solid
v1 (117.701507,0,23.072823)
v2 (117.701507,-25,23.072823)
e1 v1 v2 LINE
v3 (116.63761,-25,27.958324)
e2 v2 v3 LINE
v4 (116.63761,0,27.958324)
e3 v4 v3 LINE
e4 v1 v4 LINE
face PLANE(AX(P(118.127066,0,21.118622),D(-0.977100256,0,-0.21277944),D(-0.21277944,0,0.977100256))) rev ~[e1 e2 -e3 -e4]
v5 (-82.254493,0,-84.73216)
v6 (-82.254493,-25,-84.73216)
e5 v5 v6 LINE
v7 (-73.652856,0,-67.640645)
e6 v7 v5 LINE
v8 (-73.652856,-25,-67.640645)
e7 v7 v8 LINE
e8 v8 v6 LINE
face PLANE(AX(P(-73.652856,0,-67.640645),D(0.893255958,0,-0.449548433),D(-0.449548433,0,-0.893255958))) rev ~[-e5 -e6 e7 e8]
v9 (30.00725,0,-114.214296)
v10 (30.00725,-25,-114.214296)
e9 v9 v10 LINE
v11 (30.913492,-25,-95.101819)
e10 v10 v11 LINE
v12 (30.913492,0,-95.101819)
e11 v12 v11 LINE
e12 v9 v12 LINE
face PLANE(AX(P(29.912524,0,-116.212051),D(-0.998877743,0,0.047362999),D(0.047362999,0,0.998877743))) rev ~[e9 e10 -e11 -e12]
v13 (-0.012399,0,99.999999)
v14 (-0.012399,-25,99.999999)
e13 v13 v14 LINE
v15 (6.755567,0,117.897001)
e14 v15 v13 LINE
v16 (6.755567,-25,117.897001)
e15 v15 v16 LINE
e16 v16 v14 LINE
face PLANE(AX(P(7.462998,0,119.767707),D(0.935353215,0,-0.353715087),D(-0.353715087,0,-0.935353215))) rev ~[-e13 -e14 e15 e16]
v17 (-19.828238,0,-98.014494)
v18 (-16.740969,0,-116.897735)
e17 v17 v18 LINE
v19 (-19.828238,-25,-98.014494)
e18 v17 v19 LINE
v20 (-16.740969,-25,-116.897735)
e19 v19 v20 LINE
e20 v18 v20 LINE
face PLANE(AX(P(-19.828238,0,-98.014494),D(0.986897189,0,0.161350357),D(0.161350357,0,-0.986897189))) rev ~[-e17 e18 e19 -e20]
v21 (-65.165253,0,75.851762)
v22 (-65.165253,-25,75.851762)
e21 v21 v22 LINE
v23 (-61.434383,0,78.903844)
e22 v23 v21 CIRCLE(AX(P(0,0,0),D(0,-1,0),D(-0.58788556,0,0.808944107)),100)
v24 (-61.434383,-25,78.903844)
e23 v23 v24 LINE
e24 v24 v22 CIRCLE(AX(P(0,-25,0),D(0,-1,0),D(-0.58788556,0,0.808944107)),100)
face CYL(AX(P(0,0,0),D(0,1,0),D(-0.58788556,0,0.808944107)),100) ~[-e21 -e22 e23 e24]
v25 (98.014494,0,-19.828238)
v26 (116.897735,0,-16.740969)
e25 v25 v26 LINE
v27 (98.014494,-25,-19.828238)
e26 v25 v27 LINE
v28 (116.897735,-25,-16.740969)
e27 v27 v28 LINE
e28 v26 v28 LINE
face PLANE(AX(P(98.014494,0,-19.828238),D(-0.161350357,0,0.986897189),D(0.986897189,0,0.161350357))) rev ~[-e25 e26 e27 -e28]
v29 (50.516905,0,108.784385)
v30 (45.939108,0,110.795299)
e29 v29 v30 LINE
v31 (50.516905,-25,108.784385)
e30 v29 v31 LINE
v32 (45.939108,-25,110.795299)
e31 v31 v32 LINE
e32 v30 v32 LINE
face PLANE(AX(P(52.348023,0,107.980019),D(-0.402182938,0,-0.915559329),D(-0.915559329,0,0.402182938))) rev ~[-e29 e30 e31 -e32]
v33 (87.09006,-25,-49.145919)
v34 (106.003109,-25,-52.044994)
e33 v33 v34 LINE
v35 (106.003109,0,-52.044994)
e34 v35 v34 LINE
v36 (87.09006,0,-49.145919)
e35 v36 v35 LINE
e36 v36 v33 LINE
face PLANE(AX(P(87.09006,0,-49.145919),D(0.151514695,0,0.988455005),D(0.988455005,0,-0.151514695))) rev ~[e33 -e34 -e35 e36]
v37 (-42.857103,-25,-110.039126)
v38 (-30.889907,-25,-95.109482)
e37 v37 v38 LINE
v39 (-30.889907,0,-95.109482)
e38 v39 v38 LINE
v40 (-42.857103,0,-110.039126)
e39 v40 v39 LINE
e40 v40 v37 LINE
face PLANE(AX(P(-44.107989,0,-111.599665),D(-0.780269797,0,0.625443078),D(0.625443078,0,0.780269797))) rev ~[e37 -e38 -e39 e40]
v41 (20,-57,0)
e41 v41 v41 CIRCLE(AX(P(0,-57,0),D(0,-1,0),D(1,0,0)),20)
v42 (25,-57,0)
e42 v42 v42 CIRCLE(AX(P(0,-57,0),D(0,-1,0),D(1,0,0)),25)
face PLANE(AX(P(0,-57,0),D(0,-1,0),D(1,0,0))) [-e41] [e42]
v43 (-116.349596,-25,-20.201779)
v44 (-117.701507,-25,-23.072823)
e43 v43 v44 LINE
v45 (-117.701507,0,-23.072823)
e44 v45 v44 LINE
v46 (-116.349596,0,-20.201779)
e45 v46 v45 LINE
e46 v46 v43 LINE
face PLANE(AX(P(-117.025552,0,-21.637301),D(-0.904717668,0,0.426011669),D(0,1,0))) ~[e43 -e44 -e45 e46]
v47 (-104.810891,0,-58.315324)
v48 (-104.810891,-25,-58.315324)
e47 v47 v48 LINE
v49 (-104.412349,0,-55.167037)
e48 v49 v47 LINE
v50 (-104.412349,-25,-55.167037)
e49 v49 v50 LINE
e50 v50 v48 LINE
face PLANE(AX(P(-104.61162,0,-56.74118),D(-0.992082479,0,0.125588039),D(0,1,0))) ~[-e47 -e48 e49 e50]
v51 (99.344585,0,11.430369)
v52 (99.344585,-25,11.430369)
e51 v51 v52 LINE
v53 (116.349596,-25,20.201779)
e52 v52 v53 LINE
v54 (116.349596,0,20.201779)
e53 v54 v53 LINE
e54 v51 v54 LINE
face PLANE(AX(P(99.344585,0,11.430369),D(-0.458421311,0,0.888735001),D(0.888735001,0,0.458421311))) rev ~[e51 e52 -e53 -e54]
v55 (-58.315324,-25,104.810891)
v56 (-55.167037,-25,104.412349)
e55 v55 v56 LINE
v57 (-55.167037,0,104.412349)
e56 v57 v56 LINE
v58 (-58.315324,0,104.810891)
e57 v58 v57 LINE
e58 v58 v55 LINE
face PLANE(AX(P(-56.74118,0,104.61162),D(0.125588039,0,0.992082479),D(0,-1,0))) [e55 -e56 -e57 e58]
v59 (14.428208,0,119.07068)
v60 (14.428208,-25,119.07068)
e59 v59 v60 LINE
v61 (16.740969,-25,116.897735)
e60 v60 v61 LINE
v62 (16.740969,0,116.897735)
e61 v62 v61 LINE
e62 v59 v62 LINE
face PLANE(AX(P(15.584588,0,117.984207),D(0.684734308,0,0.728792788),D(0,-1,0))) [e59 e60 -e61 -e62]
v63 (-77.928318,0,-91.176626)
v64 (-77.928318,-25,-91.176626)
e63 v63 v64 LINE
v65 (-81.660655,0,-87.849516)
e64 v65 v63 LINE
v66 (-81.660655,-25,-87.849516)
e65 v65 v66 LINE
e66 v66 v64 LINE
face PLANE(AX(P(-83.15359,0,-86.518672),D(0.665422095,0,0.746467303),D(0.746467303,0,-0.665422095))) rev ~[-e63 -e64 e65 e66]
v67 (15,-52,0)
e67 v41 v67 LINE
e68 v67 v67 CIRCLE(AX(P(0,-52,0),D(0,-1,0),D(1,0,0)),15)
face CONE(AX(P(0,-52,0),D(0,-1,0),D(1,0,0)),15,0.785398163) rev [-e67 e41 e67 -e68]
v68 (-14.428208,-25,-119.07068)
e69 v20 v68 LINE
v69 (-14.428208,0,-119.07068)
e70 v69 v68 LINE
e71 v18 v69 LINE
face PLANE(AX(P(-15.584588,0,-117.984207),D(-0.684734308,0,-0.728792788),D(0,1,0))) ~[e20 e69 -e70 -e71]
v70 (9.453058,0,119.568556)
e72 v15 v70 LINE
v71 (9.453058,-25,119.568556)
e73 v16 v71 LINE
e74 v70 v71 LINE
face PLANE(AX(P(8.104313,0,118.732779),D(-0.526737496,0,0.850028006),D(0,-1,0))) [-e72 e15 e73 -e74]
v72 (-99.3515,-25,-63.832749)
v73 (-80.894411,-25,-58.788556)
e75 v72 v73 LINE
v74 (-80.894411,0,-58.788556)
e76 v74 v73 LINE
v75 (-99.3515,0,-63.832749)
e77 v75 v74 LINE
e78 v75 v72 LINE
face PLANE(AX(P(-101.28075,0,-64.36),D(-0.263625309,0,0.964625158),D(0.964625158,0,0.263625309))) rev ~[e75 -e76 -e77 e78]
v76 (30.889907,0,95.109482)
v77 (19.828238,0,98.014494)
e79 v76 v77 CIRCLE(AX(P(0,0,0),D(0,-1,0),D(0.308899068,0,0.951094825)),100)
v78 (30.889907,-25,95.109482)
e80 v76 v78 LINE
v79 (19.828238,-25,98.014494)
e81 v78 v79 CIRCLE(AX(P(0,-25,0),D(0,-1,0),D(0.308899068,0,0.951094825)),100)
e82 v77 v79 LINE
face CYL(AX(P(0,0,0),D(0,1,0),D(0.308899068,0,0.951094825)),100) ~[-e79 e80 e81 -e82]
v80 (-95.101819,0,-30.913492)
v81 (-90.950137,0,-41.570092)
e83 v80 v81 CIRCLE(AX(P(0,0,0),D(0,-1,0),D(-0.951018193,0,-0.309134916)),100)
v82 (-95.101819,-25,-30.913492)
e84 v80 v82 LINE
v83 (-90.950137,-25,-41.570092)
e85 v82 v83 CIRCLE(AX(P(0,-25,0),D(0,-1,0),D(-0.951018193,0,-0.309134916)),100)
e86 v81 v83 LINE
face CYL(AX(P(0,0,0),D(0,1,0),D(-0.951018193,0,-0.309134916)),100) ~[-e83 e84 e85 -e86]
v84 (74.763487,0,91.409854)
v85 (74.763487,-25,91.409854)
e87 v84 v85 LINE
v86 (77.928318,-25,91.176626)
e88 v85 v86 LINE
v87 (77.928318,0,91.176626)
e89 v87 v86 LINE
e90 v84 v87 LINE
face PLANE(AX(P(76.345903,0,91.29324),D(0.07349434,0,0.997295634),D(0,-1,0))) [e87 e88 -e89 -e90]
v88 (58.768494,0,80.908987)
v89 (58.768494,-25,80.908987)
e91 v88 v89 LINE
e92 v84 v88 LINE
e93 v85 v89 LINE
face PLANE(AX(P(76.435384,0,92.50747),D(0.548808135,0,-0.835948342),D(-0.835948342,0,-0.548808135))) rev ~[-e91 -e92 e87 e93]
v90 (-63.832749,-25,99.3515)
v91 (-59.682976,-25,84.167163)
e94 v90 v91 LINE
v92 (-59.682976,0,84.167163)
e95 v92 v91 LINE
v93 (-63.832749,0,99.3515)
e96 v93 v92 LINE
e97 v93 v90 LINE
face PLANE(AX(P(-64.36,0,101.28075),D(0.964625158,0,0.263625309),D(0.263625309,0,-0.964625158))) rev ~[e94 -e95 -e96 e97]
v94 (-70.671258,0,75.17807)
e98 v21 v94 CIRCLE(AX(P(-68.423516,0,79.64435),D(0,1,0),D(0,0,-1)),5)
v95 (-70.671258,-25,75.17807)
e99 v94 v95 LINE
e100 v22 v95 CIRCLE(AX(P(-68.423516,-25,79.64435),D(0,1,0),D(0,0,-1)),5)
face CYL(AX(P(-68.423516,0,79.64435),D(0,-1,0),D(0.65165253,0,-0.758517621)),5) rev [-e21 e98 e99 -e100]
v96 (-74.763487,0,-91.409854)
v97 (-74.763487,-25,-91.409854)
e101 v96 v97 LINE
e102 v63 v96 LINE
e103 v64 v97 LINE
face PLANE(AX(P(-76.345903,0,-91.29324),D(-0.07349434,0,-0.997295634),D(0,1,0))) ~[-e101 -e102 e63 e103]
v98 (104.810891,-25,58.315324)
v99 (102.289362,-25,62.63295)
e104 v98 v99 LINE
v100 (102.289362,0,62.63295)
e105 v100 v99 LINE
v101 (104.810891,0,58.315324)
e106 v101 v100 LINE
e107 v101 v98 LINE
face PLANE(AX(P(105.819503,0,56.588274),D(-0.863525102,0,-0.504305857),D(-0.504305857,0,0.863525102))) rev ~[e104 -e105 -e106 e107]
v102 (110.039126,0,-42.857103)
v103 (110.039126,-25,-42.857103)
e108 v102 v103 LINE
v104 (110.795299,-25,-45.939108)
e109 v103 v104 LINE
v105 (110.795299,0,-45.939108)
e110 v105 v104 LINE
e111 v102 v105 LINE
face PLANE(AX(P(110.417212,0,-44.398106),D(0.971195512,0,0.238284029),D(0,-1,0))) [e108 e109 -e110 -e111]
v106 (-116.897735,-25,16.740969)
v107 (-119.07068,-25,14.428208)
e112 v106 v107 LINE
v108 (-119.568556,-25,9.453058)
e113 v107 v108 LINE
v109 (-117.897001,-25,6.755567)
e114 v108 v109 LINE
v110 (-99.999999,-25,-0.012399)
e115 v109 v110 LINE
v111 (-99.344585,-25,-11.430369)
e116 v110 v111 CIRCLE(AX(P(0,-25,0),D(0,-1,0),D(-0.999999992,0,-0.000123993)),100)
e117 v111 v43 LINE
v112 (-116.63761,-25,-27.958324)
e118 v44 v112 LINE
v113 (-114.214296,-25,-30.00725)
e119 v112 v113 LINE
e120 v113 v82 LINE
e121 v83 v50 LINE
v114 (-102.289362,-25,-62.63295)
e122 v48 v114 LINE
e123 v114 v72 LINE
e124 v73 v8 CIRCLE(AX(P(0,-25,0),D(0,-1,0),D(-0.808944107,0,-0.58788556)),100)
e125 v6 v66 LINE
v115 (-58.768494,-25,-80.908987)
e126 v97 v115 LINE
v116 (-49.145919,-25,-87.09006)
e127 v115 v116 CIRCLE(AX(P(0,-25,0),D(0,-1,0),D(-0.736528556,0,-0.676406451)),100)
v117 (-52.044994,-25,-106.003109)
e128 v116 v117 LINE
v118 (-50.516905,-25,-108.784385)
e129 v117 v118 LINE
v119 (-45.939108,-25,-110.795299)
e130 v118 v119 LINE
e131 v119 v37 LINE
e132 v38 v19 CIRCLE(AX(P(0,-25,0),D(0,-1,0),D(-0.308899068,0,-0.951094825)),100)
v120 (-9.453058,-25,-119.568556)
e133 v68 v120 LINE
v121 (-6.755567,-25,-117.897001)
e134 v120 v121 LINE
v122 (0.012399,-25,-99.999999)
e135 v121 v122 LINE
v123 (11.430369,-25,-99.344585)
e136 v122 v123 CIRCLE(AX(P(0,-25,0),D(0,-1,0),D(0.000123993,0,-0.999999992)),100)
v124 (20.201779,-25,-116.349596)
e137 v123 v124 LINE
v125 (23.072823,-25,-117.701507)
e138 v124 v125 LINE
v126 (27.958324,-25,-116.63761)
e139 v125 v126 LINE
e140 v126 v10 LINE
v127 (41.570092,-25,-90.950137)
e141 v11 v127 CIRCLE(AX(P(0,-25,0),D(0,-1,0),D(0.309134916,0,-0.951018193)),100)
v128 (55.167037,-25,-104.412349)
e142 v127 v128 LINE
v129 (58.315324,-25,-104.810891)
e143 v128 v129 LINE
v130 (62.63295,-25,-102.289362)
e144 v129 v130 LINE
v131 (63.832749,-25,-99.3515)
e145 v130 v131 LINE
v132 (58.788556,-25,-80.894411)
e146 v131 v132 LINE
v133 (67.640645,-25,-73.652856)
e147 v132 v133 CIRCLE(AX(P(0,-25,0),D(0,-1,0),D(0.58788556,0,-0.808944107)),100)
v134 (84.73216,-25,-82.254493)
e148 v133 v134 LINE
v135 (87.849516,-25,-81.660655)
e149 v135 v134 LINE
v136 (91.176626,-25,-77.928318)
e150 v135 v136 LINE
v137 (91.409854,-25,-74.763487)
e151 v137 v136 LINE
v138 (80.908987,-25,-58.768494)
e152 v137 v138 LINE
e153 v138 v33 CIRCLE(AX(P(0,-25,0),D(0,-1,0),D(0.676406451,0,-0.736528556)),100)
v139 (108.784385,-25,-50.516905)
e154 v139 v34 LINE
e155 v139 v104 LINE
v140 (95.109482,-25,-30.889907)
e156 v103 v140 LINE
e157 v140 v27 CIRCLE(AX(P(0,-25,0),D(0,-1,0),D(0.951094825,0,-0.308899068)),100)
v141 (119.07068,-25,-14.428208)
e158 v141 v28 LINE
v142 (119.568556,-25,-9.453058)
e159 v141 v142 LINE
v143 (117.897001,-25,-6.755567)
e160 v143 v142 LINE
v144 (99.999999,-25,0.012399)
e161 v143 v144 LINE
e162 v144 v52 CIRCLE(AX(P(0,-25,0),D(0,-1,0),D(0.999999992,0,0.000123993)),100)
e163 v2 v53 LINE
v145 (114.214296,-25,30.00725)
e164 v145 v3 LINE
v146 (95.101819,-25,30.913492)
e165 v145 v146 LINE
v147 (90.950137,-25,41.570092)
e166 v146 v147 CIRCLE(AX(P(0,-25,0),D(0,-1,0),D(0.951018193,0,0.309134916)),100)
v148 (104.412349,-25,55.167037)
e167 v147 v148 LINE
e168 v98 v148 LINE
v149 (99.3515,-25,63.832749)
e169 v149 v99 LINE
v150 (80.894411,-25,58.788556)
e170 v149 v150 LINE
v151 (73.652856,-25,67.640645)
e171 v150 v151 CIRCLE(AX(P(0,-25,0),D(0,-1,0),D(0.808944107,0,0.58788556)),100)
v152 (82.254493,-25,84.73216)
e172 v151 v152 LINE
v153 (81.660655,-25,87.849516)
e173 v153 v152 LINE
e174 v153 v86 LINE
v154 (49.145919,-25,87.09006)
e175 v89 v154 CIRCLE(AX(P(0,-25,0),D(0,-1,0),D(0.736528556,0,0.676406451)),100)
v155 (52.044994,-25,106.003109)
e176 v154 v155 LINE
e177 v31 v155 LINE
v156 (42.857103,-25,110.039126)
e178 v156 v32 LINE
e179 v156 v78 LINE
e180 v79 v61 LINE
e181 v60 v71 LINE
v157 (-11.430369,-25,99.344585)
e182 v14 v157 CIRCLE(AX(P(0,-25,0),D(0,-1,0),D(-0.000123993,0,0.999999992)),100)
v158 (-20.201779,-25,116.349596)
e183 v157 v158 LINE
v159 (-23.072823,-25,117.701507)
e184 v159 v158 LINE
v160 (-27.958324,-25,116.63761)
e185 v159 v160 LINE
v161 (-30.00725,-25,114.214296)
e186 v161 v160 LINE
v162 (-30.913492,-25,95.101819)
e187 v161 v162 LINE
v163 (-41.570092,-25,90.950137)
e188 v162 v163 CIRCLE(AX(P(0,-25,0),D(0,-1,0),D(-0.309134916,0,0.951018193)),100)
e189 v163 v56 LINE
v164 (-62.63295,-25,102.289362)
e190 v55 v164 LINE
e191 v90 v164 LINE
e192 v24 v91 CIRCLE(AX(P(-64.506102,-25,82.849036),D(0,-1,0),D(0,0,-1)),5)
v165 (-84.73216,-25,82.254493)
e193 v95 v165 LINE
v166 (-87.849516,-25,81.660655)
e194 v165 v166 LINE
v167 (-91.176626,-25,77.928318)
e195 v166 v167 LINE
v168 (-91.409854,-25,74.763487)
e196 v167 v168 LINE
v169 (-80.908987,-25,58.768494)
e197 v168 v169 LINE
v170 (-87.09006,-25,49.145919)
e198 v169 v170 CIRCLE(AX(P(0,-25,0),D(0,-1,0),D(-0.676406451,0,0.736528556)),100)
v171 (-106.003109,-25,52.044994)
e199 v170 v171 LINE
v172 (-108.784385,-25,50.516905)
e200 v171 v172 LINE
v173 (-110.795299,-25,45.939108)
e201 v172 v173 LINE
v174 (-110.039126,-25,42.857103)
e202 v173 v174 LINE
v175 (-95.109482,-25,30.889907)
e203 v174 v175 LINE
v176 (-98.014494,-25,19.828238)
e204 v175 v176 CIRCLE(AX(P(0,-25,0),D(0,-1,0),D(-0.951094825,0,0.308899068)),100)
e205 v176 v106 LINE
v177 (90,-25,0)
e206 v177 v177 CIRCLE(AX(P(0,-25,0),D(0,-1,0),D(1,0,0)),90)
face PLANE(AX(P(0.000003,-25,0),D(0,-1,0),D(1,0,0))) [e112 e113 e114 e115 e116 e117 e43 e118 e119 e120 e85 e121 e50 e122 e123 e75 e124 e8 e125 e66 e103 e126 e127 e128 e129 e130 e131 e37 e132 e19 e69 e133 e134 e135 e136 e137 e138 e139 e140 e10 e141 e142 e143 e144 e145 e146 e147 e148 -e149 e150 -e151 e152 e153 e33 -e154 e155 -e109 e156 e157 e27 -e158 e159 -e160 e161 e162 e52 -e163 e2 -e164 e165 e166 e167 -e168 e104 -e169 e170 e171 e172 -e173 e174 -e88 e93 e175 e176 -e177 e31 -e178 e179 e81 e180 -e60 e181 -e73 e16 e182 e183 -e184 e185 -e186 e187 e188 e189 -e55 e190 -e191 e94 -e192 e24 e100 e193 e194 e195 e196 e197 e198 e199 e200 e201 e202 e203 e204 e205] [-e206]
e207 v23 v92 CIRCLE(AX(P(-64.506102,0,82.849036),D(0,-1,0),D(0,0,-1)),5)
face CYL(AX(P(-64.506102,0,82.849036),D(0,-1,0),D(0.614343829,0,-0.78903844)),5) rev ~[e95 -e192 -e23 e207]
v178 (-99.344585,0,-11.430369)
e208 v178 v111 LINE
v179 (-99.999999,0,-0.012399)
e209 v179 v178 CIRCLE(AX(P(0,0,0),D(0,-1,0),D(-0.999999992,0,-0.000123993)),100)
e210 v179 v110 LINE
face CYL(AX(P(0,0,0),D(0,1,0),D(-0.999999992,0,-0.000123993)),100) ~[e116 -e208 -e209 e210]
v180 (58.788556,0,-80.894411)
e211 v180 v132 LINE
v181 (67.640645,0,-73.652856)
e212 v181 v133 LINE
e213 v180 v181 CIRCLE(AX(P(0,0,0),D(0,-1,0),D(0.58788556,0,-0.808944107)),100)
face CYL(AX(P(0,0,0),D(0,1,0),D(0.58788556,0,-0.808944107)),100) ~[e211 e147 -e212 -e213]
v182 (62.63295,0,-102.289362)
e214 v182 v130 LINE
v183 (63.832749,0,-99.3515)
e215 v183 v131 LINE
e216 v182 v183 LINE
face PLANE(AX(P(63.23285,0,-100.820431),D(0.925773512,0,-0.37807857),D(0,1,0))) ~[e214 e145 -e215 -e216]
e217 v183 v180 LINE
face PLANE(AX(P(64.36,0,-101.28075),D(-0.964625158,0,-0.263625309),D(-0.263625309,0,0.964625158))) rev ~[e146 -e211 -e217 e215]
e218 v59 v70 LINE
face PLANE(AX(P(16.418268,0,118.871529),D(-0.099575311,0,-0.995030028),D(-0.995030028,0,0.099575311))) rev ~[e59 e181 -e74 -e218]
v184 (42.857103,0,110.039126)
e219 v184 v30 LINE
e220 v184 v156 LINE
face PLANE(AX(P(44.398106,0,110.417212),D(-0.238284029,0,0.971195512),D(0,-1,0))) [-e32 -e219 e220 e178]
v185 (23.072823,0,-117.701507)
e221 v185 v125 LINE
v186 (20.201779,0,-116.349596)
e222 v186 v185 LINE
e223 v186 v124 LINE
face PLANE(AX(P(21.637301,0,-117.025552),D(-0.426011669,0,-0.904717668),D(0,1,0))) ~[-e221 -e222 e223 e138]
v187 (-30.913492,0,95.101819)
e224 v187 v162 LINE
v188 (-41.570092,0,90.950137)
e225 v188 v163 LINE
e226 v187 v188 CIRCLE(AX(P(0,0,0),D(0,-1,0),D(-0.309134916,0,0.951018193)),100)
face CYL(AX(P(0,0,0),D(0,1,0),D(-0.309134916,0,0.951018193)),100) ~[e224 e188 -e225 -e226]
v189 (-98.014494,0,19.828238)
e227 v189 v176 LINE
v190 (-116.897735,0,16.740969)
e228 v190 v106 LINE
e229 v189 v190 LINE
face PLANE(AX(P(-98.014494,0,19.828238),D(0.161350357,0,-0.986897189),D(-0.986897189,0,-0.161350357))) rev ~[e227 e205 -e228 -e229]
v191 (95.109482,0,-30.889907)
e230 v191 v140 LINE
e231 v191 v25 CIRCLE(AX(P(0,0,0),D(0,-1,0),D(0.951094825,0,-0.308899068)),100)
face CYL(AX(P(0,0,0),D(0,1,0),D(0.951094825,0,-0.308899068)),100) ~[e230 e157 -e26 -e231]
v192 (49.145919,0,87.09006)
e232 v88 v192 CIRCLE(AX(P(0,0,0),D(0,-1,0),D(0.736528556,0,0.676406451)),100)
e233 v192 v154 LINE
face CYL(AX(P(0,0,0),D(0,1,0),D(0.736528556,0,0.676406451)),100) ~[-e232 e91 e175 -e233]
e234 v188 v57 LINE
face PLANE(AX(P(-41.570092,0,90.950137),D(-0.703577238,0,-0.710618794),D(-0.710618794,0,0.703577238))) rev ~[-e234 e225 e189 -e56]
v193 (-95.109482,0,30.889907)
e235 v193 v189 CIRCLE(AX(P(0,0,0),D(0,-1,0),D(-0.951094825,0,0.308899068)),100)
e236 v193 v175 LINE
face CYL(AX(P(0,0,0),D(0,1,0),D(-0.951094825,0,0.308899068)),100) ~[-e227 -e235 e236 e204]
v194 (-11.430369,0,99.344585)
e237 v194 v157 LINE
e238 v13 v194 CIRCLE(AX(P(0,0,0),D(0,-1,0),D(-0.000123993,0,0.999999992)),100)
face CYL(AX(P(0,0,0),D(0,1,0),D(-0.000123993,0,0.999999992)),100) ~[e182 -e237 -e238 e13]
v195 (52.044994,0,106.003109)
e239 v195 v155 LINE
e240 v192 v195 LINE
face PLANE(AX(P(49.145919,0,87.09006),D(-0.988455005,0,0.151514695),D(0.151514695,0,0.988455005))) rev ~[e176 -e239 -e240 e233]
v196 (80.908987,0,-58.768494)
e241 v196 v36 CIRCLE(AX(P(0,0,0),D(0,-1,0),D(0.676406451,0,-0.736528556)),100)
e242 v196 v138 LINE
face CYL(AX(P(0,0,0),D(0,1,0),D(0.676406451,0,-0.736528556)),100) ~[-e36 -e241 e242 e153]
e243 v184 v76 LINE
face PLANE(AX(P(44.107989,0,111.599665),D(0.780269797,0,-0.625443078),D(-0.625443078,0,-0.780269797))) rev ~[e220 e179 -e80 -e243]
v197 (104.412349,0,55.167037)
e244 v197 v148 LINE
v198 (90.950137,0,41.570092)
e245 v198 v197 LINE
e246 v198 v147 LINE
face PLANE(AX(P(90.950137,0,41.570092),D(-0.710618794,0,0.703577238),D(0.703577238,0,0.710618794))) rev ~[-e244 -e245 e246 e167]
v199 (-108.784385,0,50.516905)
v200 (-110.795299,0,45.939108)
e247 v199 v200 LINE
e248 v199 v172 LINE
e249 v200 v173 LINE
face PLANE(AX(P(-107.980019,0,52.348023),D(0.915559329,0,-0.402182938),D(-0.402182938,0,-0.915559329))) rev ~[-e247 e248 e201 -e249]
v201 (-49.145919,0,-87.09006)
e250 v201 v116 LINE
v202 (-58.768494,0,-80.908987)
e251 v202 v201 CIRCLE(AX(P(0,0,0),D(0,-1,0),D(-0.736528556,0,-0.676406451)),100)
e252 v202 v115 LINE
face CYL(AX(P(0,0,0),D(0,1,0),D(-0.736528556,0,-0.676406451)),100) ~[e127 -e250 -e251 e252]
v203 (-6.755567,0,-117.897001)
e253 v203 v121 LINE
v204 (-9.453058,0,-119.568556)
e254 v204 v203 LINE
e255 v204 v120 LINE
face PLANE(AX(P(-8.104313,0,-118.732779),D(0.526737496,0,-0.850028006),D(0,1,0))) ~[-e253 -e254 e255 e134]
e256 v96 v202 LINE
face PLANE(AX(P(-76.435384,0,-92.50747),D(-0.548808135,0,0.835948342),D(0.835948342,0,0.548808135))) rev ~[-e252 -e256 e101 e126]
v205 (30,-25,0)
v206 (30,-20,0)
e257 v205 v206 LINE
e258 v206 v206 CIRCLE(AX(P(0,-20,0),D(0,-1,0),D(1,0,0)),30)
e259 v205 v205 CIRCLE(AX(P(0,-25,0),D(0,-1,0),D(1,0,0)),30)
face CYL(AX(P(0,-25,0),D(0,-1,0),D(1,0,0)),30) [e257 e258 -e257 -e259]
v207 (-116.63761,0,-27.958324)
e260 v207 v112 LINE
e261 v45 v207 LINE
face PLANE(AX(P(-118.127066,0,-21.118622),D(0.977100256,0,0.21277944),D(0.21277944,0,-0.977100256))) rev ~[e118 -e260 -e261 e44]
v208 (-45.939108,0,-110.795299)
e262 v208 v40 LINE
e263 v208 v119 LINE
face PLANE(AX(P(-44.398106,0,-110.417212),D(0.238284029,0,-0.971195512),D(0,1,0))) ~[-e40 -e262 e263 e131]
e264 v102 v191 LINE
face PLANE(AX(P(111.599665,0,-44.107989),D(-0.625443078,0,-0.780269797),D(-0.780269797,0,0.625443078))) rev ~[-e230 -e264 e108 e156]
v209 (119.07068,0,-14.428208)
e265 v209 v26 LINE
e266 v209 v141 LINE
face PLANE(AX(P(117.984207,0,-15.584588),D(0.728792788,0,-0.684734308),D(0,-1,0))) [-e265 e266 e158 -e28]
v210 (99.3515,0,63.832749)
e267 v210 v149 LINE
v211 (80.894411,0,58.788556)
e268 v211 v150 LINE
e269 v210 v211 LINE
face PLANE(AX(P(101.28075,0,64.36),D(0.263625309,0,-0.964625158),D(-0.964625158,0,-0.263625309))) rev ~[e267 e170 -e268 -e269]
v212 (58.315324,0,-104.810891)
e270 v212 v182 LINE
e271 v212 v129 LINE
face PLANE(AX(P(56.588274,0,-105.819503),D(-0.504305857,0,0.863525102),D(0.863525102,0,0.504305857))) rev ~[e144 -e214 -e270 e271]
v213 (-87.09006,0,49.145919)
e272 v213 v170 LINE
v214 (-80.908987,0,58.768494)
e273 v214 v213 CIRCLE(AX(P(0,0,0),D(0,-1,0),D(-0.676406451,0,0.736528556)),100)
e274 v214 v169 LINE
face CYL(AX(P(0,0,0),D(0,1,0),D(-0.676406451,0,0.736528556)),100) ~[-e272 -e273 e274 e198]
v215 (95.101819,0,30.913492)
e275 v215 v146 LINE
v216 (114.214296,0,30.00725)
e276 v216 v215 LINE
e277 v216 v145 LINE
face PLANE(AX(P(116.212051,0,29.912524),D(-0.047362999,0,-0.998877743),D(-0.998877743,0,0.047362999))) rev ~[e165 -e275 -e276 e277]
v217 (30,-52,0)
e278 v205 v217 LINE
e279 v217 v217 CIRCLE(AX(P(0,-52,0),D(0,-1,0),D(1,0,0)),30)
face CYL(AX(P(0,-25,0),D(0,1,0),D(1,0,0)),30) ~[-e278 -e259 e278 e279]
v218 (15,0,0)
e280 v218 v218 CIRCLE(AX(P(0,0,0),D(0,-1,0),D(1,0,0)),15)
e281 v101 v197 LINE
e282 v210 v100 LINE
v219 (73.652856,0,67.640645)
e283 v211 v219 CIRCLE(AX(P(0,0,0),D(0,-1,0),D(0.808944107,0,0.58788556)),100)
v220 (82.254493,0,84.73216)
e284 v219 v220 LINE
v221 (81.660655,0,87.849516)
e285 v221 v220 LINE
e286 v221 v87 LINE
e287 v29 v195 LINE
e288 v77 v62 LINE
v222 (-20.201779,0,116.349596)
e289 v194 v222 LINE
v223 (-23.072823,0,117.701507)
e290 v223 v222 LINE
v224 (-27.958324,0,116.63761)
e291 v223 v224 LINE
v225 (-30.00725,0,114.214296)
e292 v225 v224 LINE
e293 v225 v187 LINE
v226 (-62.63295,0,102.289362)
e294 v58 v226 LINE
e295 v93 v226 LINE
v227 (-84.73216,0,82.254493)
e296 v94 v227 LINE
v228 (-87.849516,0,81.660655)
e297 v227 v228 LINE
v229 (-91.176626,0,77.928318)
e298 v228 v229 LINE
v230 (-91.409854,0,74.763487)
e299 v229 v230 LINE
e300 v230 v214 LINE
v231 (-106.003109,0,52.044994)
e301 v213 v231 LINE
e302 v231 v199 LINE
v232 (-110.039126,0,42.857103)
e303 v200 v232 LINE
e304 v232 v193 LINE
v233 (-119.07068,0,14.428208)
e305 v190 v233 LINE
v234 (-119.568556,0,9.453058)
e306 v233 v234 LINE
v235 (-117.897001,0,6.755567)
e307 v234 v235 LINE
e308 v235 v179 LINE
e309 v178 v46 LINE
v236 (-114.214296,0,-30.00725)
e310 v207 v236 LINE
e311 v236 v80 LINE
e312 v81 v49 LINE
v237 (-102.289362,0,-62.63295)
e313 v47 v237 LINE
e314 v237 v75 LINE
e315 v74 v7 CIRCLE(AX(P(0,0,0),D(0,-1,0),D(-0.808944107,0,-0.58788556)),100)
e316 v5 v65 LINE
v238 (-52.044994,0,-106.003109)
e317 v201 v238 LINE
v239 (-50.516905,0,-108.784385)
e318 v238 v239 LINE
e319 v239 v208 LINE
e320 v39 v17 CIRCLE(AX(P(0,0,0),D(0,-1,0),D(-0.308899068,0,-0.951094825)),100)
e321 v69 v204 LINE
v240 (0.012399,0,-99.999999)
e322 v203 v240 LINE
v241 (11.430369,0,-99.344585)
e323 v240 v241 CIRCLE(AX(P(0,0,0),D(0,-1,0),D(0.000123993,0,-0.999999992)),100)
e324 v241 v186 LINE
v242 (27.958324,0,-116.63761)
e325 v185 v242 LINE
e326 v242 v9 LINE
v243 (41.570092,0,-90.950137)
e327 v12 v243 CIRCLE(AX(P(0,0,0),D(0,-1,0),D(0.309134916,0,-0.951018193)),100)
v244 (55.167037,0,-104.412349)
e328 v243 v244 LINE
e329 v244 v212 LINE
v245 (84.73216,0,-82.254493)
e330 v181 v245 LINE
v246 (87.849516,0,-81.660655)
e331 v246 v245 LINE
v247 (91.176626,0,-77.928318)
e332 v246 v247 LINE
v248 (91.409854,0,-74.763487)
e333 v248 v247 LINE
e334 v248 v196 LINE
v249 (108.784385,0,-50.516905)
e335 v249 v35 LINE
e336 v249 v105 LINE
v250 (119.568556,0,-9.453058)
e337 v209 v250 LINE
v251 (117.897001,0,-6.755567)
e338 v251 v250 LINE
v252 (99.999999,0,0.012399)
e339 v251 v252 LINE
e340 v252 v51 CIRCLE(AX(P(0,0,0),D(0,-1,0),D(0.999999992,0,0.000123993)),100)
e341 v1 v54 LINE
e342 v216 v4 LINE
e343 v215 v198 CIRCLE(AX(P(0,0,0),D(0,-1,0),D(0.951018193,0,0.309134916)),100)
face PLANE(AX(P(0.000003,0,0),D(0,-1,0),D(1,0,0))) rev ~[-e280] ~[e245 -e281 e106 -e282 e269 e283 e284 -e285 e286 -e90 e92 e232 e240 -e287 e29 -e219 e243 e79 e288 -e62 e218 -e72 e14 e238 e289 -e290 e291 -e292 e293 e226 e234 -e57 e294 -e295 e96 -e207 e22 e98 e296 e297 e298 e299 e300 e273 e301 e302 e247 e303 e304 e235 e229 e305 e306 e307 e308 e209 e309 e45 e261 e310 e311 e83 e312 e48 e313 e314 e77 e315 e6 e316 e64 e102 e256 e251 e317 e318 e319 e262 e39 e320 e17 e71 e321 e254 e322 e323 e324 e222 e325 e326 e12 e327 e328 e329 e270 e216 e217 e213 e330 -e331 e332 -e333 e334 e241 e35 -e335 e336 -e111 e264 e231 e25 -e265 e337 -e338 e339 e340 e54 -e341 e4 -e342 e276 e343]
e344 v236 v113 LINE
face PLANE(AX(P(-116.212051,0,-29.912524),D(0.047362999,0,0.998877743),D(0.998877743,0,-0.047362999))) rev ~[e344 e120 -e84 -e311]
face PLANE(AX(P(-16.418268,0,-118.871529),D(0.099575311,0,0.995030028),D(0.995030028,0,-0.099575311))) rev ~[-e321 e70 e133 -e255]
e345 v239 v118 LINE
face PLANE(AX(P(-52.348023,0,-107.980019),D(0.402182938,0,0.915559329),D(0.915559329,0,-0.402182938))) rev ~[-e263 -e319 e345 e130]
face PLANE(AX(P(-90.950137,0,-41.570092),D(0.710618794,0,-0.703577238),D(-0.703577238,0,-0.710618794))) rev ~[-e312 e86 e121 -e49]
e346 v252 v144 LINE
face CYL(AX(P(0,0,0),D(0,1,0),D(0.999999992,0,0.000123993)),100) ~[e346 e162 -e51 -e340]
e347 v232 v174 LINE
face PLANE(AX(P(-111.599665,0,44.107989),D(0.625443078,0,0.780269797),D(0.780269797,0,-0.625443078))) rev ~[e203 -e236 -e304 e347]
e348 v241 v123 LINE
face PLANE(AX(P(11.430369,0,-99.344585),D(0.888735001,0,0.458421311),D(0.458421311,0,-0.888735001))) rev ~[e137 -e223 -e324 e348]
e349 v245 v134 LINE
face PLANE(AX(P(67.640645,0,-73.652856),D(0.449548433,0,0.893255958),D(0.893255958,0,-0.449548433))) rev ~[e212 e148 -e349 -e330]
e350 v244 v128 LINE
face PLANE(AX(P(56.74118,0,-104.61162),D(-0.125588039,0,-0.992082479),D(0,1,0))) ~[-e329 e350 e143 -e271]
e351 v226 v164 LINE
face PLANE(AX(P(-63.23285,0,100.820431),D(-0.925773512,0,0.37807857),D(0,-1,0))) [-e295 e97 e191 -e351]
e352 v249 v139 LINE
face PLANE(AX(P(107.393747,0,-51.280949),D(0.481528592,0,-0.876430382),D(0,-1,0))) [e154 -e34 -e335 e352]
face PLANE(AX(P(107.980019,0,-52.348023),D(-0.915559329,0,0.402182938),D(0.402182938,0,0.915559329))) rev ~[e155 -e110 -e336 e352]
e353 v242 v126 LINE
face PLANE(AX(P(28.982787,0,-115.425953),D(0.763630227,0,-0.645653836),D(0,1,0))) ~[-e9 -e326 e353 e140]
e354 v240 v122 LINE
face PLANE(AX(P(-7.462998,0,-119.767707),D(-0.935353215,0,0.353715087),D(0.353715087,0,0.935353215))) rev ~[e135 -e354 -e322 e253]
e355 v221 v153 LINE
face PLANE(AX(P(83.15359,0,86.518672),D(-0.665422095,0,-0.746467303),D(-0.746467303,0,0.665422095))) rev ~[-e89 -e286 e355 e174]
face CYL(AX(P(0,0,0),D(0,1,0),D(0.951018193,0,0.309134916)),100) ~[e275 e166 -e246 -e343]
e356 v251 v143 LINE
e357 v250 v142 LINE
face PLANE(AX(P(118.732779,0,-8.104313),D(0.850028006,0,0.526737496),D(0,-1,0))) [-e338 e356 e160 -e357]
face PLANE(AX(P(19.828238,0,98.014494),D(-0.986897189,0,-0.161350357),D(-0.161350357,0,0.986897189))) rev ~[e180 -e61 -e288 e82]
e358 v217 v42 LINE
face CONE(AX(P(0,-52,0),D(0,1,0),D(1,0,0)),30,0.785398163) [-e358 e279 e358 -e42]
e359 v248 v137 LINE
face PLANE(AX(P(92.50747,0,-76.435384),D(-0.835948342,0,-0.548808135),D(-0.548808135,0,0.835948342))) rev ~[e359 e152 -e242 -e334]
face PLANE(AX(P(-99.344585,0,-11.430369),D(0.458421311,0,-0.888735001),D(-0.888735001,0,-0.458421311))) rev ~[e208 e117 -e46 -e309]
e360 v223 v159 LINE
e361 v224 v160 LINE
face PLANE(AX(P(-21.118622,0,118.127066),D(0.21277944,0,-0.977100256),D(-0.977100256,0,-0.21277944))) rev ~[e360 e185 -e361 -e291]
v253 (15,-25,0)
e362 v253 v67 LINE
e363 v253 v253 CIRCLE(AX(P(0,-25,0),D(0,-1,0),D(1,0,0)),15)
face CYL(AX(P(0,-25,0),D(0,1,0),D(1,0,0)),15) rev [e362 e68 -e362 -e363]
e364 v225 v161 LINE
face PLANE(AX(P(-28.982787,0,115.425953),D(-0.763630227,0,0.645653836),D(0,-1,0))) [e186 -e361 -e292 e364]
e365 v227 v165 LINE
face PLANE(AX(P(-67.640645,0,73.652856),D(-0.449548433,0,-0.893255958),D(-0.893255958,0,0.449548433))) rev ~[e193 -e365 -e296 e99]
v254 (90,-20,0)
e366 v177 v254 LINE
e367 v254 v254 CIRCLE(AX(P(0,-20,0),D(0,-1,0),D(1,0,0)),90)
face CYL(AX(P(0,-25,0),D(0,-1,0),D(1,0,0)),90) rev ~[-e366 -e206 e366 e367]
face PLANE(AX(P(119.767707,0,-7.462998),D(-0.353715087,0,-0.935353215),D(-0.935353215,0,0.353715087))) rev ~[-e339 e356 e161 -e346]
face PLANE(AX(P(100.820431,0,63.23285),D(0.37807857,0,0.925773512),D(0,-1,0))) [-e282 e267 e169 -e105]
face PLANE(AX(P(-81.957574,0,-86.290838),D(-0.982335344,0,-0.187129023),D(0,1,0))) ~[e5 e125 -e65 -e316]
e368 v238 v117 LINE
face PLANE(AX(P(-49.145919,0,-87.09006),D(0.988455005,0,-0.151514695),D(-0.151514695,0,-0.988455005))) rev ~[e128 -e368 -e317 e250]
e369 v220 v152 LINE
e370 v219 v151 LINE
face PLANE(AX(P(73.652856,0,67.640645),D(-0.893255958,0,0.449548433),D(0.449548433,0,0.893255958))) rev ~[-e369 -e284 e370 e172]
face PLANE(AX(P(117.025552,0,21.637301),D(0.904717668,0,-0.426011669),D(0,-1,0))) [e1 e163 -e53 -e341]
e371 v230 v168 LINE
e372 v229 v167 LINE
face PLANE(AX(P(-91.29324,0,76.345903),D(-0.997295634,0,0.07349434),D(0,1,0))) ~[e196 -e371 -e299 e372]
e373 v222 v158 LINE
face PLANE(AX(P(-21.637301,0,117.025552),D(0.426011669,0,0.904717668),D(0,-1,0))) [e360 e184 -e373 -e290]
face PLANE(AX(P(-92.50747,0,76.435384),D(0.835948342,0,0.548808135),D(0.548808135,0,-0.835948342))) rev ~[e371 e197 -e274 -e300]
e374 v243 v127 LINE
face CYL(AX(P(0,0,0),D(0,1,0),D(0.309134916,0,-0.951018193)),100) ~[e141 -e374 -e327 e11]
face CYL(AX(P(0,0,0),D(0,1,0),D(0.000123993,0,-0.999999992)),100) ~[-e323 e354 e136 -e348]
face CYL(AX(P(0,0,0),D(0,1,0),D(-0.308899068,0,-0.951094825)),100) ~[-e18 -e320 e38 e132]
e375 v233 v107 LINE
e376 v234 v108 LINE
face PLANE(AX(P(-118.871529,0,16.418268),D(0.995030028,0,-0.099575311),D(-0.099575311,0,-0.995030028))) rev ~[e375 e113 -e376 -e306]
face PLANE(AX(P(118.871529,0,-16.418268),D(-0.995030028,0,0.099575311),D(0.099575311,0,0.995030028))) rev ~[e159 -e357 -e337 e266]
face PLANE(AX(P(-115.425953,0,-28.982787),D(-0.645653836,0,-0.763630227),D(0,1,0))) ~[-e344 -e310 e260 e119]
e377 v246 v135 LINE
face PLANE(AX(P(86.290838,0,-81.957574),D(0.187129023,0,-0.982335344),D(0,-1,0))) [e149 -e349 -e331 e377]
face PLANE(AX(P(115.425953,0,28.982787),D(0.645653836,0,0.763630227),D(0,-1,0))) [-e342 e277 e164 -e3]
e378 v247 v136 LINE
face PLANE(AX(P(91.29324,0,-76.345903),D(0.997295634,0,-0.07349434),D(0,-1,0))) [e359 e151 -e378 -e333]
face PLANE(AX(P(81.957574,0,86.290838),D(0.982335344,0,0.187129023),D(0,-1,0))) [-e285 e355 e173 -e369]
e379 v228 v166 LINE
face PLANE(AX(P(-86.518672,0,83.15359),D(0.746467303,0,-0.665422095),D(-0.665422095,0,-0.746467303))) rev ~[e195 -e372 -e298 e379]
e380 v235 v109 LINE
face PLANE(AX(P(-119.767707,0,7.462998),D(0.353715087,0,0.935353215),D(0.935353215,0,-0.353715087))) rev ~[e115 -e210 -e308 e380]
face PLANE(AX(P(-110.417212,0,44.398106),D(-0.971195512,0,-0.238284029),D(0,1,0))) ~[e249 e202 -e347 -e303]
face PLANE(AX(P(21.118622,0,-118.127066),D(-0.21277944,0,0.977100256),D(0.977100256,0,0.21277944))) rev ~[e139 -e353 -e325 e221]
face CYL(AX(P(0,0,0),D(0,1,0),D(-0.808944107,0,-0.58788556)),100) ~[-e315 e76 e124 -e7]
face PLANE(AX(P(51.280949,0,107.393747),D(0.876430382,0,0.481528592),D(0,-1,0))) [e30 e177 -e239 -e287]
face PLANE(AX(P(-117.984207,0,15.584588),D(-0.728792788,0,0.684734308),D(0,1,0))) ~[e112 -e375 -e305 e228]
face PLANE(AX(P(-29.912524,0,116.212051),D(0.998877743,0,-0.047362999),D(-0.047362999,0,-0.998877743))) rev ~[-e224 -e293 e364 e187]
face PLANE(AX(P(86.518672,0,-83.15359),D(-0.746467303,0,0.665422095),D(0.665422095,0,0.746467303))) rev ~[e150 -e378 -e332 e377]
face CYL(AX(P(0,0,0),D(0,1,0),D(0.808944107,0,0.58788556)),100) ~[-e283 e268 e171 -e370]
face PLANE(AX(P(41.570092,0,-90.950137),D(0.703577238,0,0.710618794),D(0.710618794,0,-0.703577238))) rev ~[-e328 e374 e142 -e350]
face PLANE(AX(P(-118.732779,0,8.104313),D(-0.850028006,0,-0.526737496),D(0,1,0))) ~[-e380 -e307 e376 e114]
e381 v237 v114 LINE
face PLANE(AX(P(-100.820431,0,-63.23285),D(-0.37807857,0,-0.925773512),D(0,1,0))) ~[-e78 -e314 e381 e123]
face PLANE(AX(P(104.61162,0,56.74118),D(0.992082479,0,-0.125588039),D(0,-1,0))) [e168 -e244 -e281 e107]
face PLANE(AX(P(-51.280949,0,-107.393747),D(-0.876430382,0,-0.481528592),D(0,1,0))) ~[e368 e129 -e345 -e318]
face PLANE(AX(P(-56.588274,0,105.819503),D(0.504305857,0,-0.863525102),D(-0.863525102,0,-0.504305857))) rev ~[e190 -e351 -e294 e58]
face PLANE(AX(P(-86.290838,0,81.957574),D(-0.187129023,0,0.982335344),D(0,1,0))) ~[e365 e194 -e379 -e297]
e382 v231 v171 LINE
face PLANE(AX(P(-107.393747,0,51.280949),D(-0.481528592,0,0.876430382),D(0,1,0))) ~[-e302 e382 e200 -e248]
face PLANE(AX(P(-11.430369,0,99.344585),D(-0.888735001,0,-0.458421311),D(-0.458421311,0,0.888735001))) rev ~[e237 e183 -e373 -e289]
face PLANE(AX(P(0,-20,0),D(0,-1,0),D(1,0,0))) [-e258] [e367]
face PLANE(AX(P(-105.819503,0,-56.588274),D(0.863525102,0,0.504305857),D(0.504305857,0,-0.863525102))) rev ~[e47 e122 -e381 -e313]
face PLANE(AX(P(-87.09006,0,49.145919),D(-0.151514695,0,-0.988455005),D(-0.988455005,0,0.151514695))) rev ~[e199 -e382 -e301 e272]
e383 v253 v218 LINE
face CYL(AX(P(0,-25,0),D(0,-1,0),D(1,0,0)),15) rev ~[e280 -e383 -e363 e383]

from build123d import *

# Parameters (mm, degrees)
F1_DEPTH  = 25
F2_R      = 5
F3_R      = 5
F4_R      = 30
F4_R_2    = 15
F5_DEPTH  = 32
F6_DEPTH  = 25.001
F7_SIZE   = 5
F8_SIZE   = 5
F4_R_3    = 90
F9_DEPTH  = 5
F10_SIZE2 = 2
F10_SIZE  = 2


with BuildPart() as f1:
    # F0 (on Front) → F1 (new body)
    with BuildSketch(Plane.XZ):
        with BuildLine():
            ThreePointArc((98.0144936682, -19.8282382213), (99.5023853152, -9.9636999447), (100, 0))
            ThreePointArc((100, 0), (99.9999998078, 0.006199626), (99.9999992313, 0.0123992521))
            ThreePointArc((99.9999992313, 0.0123992521), (99.835656814, 5.7307616008), (99.3445854734, 11.4303690715))
            ThreePointArc((99.3445854734, 11.4303690715), (97.7100255855, 21.2779439815), (95.1018193188, 30.9134915894))
            ThreePointArc((95.1018193188, 30.9134915894), (93.1784492462, 36.3011927639), (90.9501370781, 41.5700921996))
            ThreePointArc((90.9501370781, 41.5700921996), (86.3525102448, 50.4305857037), (80.8944107181, 58.788555983))
            ThreePointArc((80.8944107181, 58.788555983), (77.4002858537, 63.3182102539), (73.6528555786, 67.6406450672))
            ThreePointArc((73.6528555786, 67.6406450672), (66.5422095481, 74.6467303267), (58.7684935718, 80.9089869131))
            ThreePointArc((58.7684935718, 80.9089869131), (54.0456432024, 84.1372001604), (49.1459194055, 87.0900603156))
            ThreePointArc((49.1459194055, 87.0900603156), (40.2182937539, 91.5559328909), (30.8899068105, 95.109482478))
            ThreePointArc((30.8899068105, 95.109482478), (25.4006364363, 96.7202546969), (19.8282382213, 98.0144936682))
            ThreePointArc((19.8282382213, 98.0144936682), (9.9575311498, 99.5030028361), (-0.0123992521, 99.9999992313))
            ThreePointArc((-0.0123992521, 99.9999992313), (-5.7307616008, 99.835656814), (-11.4303690715, 99.3445854734))
            ThreePointArc((-11.4303690715, 99.3445854734), (-21.2779439815, 97.7100255855), (-30.9134915894, 95.1018193188))
            ThreePointArc((-30.9134915894, 95.1018193188), (-36.3011927639, 93.1784492462), (-41.5700921996, 90.9501370781))
            ThreePointArc((-41.5700921996, 90.9501370781), (-50.4305857037, 86.3525102448), (-58.788555983, 80.8944107181))
            ThreePointArc((-58.788555983, 80.8944107181), (-63.3182102539, 77.4002858537), (-67.6406450672, 73.6528555786))
            ThreePointArc((-67.6406450672, 73.6528555786), (-74.6467303267, 66.5422095481), (-80.9089869131, 58.7684935718))
            ThreePointArc((-80.9089869131, 58.7684935718), (-84.1372001604, 54.0456432024), (-87.0900603156, 49.1459194055))
            ThreePointArc((-87.0900603156, 49.1459194055), (-91.5559328909, 40.2182937539), (-95.109482478, 30.8899068105))
            ThreePointArc((-95.109482478, 30.8899068105), (-96.7202546969, 25.4006364363), (-98.0144936682, 19.8282382213))
            ThreePointArc((-98.0144936682, 19.8282382213), (-99.5030028361, 9.9575311498), (-99.9999992313, -0.0123992521))
            ThreePointArc((-99.9999992313, -0.0123992521), (-99.835656814, -5.7307616008), (-99.3445854734, -11.4303690715))
            ThreePointArc((-99.3445854734, -11.4303690715), (-97.7100255855, -21.2779439815), (-95.1018193188, -30.9134915894))
            ThreePointArc((-95.1018193188, -30.9134915894), (-93.1784492462, -36.3011927639), (-90.9501370781, -41.5700921996))
            ThreePointArc((-90.9501370781, -41.5700921996), (-86.3525102448, -50.4305857037), (-80.8944107181, -58.788555983))
            ThreePointArc((-80.8944107181, -58.788555983), (-77.4002858537, -63.3182102539), (-73.6528555786, -67.6406450672))
            ThreePointArc((-73.6528555786, -67.6406450672), (-66.5422095481, -74.6467303267), (-58.7684935718, -80.9089869131))
            ThreePointArc((-58.7684935718, -80.9089869131), (-54.0456432024, -84.1372001604), (-49.1459194055, -87.0900603156))
            ThreePointArc((-49.1459194055, -87.0900603156), (-40.2182937539, -91.5559328909), (-30.8899068105, -95.109482478))
            ThreePointArc((-30.8899068105, -95.109482478), (-25.4006364363, -96.7202546969), (-19.8282382213, -98.0144936682))
            ThreePointArc((-19.8282382213, -98.0144936682), (-9.9575311498, -99.5030028361), (0.0123992521, -99.9999992313))
            ThreePointArc((0.0123992521, -99.9999992313), (5.7307616008, -99.835656814), (11.4303690715, -99.3445854734))
            ThreePointArc((11.4303690715, -99.3445854734), (21.2779439815, -97.7100255855), (30.9134915894, -95.1018193188))
            ThreePointArc((30.9134915894, -95.1018193188), (36.3011927639, -93.1784492462), (41.5700921996, -90.9501370781))
            ThreePointArc((41.5700921996, -90.9501370781), (50.4305857037, -86.3525102448), (58.788555983, -80.8944107181))
            ThreePointArc((58.788555983, -80.8944107181), (63.3182102539, -77.4002858537), (67.6406450672, -73.6528555786))
            ThreePointArc((67.6406450672, -73.6528555786), (74.6467303267, -66.5422095481), (80.9089869131, -58.7684935718))
            ThreePointArc((80.9089869131, -58.7684935718), (84.1372001604, -54.0456432024), (87.0900603156, -49.1459194055))
            ThreePointArc((87.0900603156, -49.1459194055), (91.5559328909, -40.2182937539), (95.109482478, -30.8899068105))
            ThreePointArc((95.109482478, -30.8899068105), (96.7202546969, -25.4006364363), (98.0144936682, -19.8282382213))
        make_face()
        with BuildLine():
            ThreePointArc((95.1018193188, 30.9134915894), (97.7100255855, 21.2779439815), (99.3445854734, 11.4303690715))
            Line((99.3445854734, 11.4303690715), (118.1270663435, 21.1186220451))
            Line((118.1270663435, 21.1186220451), (116.2120513852, 29.9125243478))
            Line((116.2120513852, 29.9125243478), (95.1018193188, 30.9134915894))
        make_face()
        with BuildLine():
            Line((64.360000029, -101.2807503738), (58.788555983, -80.8944107181))
            ThreePointArc((58.788555983, -80.8944107181), (50.4305857037, -86.3525102448), (41.5700921996, -90.9501370781))
            Line((41.5700921996, -90.9501370781), (56.5882741069, -105.8195030871))
            Line((56.5882741069, -105.8195030871), (64.360000029, -101.2807503738))
        make_face()
        with BuildLine():
            Line((-7.4629976294, -119.76770711), (0.0123992521, -99.9999992313))
            ThreePointArc((0.0123992521, -99.9999992313), (-9.9575311498, -99.5030028361), (-19.8282382213, -98.0144936682))
            Line((-19.8282382213, -98.0144936682), (-16.4182678847, -118.8715293065))
            Line((-16.4182678847, -118.8715293065), (-7.4629976294, -119.76770711))
        make_face()
        with BuildLine():
            Line((29.9125243478, -116.2120513852), (30.9134915894, -95.1018193188))
            ThreePointArc((30.9134915894, -95.1018193188), (21.2779439815, -97.7100255855), (11.4303690715, -99.3445854734))
            Line((11.4303690715, -99.3445854734), (21.1186220451, -118.1270663435))
            Line((21.1186220451, -118.1270663435), (29.9125243478, -116.2120513852))
        make_face()
        with BuildLine():
            Line((92.5074704848, -76.4353838513), (80.9089869131, -58.7684935718))
            ThreePointArc((80.9089869131, -58.7684935718), (74.6467303267, -66.5422095481), (67.6406450672, -73.6528555786))
            Line((67.6406450672, -73.6528555786), (86.5186716255, -83.1535895807))
            Line((86.5186716255, -83.1535895807), (92.5074704848, -76.4353838513))
        make_face()
        with BuildLine():
            ThreePointArc((80.8944107181, 58.788555983), (86.3525102448, 50.4305857037), (90.9501370781, 41.5700921996))
            Line((90.9501370781, 41.5700921996), (105.8195030871, 56.5882741069))
            Line((105.8195030871, 56.5882741069), (101.2807503738, 64.360000029))
            Line((101.2807503738, 64.360000029), (80.8944107181, 58.788555983))
        make_face()
        with BuildLine():
            ThreePointArc((58.7684935718, 80.9089869131), (66.5422095481, 74.6467303267), (73.6528555786, 67.6406450672))
            Line((73.6528555786, 67.6406450672), (83.1535895807, 86.5186716255))
            Line((83.1535895807, 86.5186716255), (76.4353838513, 92.5074704848))
            Line((76.4353838513, 92.5074704848), (58.7684935718, 80.9089869131))
        make_face()
        with BuildLine():
            ThreePointArc((30.8899068105, 95.109482478), (40.2182937539, 91.5559328909), (49.1459194055, 87.0900603156))
            Line((49.1459194055, 87.0900603157), (52.348023361, 107.9800187544))
            Line((52.348023361, 107.9800187544), (44.1079894009, 111.5996651922))
            Line((44.1079894009, 111.5996651922), (30.8899068105, 95.109482478))
        make_face()
        with BuildLine():
            ThreePointArc((-0.0123992521, 99.9999992313), (9.9575311498, 99.5030028361), (19.8282382213, 98.0144936682))
            Line((19.8282382213, 98.0144936682), (16.4182678847, 118.8715293065))
            Line((16.4182678847, 118.8715293065), (7.4629976294, 119.76770711))
            Line((7.4629976294, 119.76770711), (-0.0123992521, 99.9999992313))
        make_face()
        with BuildLine():
            ThreePointArc((-30.9134915894, 95.1018193188), (-21.2779439815, 97.7100255855), (-11.4303690715, 99.3445854734))
            Line((-11.4303690715, 99.3445854734), (-21.1186220451, 118.1270663435))
            Line((-21.1186220451, 118.1270663435), (-29.9125243478, 116.2120513852))
            Line((-29.9125243478, 116.2120513852), (-30.9134915894, 95.1018193188))
        make_face()
        with BuildLine():
            ThreePointArc((-58.788555983, 80.8944107181), (-50.4305857037, 86.3525102448), (-41.5700921996, 90.9501370781))
            Line((-41.5700921996, 90.9501370781), (-56.5882741069, 105.8195030871))
            Line((-56.5882741069, 105.8195030871), (-64.360000029, 101.2807503738))
            Line((-64.360000029, 101.2807503738), (-58.788555983, 80.8944107181))
        make_face()
        with BuildLine():
            ThreePointArc((-80.9089869131, 58.7684935718), (-74.6467303267, 66.5422095481), (-67.6406450672, 73.6528555786))
            Line((-67.6406450672, 73.6528555786), (-86.5186716255, 83.1535895807))
            Line((-86.5186716255, 83.1535895807), (-92.5074704848, 76.4353838513))
            Line((-92.5074704848, 76.4353838513), (-80.9089869131, 58.7684935718))
        make_face()
        with BuildLine():
            ThreePointArc((-95.109482478, 30.8899068105), (-91.5559328909, 40.2182937539), (-87.0900603156, 49.1459194055))
            Line((-87.0900603157, 49.1459194055), (-107.9800187544, 52.348023361))
            Line((-107.9800187544, 52.348023361), (-111.5996651922, 44.1079894009))
            Line((-111.5996651922, 44.1079894009), (-95.109482478, 30.8899068105))
        make_face()
        with BuildLine():
            ThreePointArc((-99.9999992313, -0.0123992521), (-99.5030028361, 9.9575311498), (-98.0144936682, 19.8282382213))
            Line((-98.0144936682, 19.8282382213), (-118.8715293065, 16.4182678847))
            Line((-118.8715293065, 16.4182678847), (-119.76770711, 7.4629976294))
            Line((-119.76770711, 7.4629976294), (-99.9999992313, -0.0123992521))
        make_face()
        with BuildLine():
            Line((-116.2120513852, -29.9125243478), (-95.1018193188, -30.9134915894))
            ThreePointArc((-95.1018193188, -30.9134915894), (-97.7100255855, -21.2779439815), (-99.3445854734, -11.4303690715))
            Line((-99.3445854734, -11.4303690715), (-118.1270663435, -21.1186220451))
            Line((-118.1270663435, -21.1186220451), (-116.2120513852, -29.9125243478))
        make_face()
        with BuildLine():
            Line((-101.2807503738, -64.360000029), (-80.8944107181, -58.788555983))
            ThreePointArc((-80.8944107181, -58.788555983), (-86.3525102448, -50.4305857037), (-90.9501370781, -41.5700921996))
            Line((-90.9501370781, -41.5700921996), (-105.8195030871, -56.5882741069))
            Line((-105.8195030871, -56.5882741069), (-101.2807503738, -64.360000029))
        make_face()
        with BuildLine():
            Line((-76.4353838513, -92.5074704848), (-58.7684935718, -80.9089869131))
            ThreePointArc((-58.7684935718, -80.9089869131), (-66.5422095481, -74.6467303267), (-73.6528555786, -67.6406450672))
            Line((-73.6528555786, -67.6406450672), (-83.1535895807, -86.5186716255))
            Line((-83.1535895807, -86.5186716255), (-76.4353838513, -92.5074704848))
        make_face()
        with BuildLine():
            Line((-44.1079894009, -111.5996651922), (-30.8899068105, -95.109482478))
            ThreePointArc((-30.8899068105, -95.109482478), (-40.2182937539, -91.5559328909), (-49.1459194055, -87.0900603156))
            Line((-49.1459194055, -87.0900603157), (-52.348023361, -107.9800187544))
            Line((-52.348023361, -107.9800187544), (-44.1079894009, -111.5996651922))
        make_face()
        with BuildLine():
            Line((111.5996651922, -44.1079894009), (95.109482478, -30.8899068105))
            ThreePointArc((95.109482478, -30.8899068105), (91.5559328909, -40.2182937539), (87.0900603156, -49.1459194055))
            Line((87.0900603157, -49.1459194055), (107.9800187544, -52.348023361))
            Line((107.9800187544, -52.348023361), (111.5996651922, -44.1079894009))
        make_face()
        with BuildLine():
            ThreePointArc((99.9999992313, 0.0123992521), (99.9999998078, 0.006199626), (100, 0))
            ThreePointArc((100, 0), (99.5023853152, -9.9636999447), (98.0144936682, -19.8282382213))
            Line((98.0144936682, -19.8282382213), (118.8715293065, -16.4182678847))
            Line((118.8715293065, -16.4182678847), (119.76770711, -7.4629976294))
            Line((119.76770711, -7.4629976294), (99.9999992313, 0.0123992521))
        make_face()
    extrude(amount=F1_DEPTH)

    # F2
    f2_edges = [f1.edges().sort_by_distance(p)[0] for p in [
        (-67.640645, -12.5, 73.652856),
    ]]
    fillet(f2_edges, radius=F2_R)

    # F3
    f3_edges = [f1.edges().sort_by_distance(p)[0] for p in [
        (-58.788556, -12.5, 80.894411),
    ]]
    fillet(f3_edges, radius=F3_R)

    # F4 (on face) → F5 (join)
    with BuildSketch(Plane.XZ.offset(25)):
        Circle(F4_R)
        Circle(F4_R_2, mode=Mode.SUBTRACT)
    extrude(amount=F5_DEPTH)

    # F6 (cut, through all): a face of the model
    f6_faces = [f1.faces().sort_by_distance(p)[0] for p in [
        (0, -25, 0),
    ]]
    extrude(f6_faces, amount=-F6_DEPTH, mode=Mode.SUBTRACT)

    # F7
    f7_edges = [f1.edges().sort_by_distance(p)[0] for p in [
        (-30, -57, 0),
    ]]
    chamfer(f7_edges, length=F7_SIZE)

    # F8
    f8_edges = [f1.edges().sort_by_distance(p)[0] for p in [
        (-15, -57, 0),
    ]]
    chamfer(f8_edges, length=F8_SIZE)

    # F4 (on face) → F9 (cut)
    with BuildSketch(Plane.XZ.offset(25)):
        Circle(F4_R_3)
        Circle(F4_R, mode=Mode.SUBTRACT)
    extrude(amount=-F9_DEPTH, mode=Mode.SUBTRACT)

    # F10
    f10_edges = [f1.edges().sort_by_distance(p)[0] for p in [
        (-105.819503, -12.5, -56.588274),
        (-101.28075, -12.5, -64.36),
        (-83.15359, -12.5, -86.518672),
        (-76.435384, -12.5, -92.50747),
        (-52.348023, -12.5, -107.980019),
        (-44.107989, -12.5, -111.599665),
        (-16.418268, -12.5, -118.871529),
        (-7.462998, -12.5, -119.767707),
        (21.118622, -12.5, -118.127066),
        (29.912524, -12.5, -116.212051),
        (56.588274, -12.5, -105.819503),
        (64.36, -12.5, -101.28075),
        (86.518672, -12.5, -83.15359),
        (92.50747, -12.5, -76.435384),
        (107.980019, -12.5, -52.348023),
        (111.599665, -12.5, -44.107989),
        (118.871529, -12.5, -16.418268),
        (119.767707, -12.5, -7.462998),
        (118.127066, -12.5, 21.118622),
        (116.212051, -12.5, 29.912524),
        (105.819503, -12.5, 56.588274),
        (101.28075, -12.5, 64.36),
        (83.15359, -12.5, 86.518672),
        (76.435384, -12.5, 92.50747),
        (52.348023, -12.5, 107.980019),
        (44.107989, -12.5, 111.599665),
        (16.418268, -12.5, 118.871529),
        (7.462998, -12.5, 119.767707),
        (-21.118622, -12.5, 118.127066),
        (-29.912524, -12.5, 116.212051),
        (-56.588274, -12.5, 105.819503),
        (-64.36, -12.5, 101.28075),
        (-86.518672, -12.5, 83.15359),
        (-92.50747, -12.5, 76.435384),
        (-107.980019, -12.5, 52.348023),
        (-111.599665, -12.5, 44.107989),
        (-118.871529, -12.5, 16.418268),
        (-119.767707, -12.5, 7.462998),
        (-118.127066, -12.5, -21.118622),
        (-116.212051, -12.5, -29.912524),
    ]]
    chamfer(f10_edges, length=F10_SIZE, length2=F10_SIZE2)


solid = f1.part
